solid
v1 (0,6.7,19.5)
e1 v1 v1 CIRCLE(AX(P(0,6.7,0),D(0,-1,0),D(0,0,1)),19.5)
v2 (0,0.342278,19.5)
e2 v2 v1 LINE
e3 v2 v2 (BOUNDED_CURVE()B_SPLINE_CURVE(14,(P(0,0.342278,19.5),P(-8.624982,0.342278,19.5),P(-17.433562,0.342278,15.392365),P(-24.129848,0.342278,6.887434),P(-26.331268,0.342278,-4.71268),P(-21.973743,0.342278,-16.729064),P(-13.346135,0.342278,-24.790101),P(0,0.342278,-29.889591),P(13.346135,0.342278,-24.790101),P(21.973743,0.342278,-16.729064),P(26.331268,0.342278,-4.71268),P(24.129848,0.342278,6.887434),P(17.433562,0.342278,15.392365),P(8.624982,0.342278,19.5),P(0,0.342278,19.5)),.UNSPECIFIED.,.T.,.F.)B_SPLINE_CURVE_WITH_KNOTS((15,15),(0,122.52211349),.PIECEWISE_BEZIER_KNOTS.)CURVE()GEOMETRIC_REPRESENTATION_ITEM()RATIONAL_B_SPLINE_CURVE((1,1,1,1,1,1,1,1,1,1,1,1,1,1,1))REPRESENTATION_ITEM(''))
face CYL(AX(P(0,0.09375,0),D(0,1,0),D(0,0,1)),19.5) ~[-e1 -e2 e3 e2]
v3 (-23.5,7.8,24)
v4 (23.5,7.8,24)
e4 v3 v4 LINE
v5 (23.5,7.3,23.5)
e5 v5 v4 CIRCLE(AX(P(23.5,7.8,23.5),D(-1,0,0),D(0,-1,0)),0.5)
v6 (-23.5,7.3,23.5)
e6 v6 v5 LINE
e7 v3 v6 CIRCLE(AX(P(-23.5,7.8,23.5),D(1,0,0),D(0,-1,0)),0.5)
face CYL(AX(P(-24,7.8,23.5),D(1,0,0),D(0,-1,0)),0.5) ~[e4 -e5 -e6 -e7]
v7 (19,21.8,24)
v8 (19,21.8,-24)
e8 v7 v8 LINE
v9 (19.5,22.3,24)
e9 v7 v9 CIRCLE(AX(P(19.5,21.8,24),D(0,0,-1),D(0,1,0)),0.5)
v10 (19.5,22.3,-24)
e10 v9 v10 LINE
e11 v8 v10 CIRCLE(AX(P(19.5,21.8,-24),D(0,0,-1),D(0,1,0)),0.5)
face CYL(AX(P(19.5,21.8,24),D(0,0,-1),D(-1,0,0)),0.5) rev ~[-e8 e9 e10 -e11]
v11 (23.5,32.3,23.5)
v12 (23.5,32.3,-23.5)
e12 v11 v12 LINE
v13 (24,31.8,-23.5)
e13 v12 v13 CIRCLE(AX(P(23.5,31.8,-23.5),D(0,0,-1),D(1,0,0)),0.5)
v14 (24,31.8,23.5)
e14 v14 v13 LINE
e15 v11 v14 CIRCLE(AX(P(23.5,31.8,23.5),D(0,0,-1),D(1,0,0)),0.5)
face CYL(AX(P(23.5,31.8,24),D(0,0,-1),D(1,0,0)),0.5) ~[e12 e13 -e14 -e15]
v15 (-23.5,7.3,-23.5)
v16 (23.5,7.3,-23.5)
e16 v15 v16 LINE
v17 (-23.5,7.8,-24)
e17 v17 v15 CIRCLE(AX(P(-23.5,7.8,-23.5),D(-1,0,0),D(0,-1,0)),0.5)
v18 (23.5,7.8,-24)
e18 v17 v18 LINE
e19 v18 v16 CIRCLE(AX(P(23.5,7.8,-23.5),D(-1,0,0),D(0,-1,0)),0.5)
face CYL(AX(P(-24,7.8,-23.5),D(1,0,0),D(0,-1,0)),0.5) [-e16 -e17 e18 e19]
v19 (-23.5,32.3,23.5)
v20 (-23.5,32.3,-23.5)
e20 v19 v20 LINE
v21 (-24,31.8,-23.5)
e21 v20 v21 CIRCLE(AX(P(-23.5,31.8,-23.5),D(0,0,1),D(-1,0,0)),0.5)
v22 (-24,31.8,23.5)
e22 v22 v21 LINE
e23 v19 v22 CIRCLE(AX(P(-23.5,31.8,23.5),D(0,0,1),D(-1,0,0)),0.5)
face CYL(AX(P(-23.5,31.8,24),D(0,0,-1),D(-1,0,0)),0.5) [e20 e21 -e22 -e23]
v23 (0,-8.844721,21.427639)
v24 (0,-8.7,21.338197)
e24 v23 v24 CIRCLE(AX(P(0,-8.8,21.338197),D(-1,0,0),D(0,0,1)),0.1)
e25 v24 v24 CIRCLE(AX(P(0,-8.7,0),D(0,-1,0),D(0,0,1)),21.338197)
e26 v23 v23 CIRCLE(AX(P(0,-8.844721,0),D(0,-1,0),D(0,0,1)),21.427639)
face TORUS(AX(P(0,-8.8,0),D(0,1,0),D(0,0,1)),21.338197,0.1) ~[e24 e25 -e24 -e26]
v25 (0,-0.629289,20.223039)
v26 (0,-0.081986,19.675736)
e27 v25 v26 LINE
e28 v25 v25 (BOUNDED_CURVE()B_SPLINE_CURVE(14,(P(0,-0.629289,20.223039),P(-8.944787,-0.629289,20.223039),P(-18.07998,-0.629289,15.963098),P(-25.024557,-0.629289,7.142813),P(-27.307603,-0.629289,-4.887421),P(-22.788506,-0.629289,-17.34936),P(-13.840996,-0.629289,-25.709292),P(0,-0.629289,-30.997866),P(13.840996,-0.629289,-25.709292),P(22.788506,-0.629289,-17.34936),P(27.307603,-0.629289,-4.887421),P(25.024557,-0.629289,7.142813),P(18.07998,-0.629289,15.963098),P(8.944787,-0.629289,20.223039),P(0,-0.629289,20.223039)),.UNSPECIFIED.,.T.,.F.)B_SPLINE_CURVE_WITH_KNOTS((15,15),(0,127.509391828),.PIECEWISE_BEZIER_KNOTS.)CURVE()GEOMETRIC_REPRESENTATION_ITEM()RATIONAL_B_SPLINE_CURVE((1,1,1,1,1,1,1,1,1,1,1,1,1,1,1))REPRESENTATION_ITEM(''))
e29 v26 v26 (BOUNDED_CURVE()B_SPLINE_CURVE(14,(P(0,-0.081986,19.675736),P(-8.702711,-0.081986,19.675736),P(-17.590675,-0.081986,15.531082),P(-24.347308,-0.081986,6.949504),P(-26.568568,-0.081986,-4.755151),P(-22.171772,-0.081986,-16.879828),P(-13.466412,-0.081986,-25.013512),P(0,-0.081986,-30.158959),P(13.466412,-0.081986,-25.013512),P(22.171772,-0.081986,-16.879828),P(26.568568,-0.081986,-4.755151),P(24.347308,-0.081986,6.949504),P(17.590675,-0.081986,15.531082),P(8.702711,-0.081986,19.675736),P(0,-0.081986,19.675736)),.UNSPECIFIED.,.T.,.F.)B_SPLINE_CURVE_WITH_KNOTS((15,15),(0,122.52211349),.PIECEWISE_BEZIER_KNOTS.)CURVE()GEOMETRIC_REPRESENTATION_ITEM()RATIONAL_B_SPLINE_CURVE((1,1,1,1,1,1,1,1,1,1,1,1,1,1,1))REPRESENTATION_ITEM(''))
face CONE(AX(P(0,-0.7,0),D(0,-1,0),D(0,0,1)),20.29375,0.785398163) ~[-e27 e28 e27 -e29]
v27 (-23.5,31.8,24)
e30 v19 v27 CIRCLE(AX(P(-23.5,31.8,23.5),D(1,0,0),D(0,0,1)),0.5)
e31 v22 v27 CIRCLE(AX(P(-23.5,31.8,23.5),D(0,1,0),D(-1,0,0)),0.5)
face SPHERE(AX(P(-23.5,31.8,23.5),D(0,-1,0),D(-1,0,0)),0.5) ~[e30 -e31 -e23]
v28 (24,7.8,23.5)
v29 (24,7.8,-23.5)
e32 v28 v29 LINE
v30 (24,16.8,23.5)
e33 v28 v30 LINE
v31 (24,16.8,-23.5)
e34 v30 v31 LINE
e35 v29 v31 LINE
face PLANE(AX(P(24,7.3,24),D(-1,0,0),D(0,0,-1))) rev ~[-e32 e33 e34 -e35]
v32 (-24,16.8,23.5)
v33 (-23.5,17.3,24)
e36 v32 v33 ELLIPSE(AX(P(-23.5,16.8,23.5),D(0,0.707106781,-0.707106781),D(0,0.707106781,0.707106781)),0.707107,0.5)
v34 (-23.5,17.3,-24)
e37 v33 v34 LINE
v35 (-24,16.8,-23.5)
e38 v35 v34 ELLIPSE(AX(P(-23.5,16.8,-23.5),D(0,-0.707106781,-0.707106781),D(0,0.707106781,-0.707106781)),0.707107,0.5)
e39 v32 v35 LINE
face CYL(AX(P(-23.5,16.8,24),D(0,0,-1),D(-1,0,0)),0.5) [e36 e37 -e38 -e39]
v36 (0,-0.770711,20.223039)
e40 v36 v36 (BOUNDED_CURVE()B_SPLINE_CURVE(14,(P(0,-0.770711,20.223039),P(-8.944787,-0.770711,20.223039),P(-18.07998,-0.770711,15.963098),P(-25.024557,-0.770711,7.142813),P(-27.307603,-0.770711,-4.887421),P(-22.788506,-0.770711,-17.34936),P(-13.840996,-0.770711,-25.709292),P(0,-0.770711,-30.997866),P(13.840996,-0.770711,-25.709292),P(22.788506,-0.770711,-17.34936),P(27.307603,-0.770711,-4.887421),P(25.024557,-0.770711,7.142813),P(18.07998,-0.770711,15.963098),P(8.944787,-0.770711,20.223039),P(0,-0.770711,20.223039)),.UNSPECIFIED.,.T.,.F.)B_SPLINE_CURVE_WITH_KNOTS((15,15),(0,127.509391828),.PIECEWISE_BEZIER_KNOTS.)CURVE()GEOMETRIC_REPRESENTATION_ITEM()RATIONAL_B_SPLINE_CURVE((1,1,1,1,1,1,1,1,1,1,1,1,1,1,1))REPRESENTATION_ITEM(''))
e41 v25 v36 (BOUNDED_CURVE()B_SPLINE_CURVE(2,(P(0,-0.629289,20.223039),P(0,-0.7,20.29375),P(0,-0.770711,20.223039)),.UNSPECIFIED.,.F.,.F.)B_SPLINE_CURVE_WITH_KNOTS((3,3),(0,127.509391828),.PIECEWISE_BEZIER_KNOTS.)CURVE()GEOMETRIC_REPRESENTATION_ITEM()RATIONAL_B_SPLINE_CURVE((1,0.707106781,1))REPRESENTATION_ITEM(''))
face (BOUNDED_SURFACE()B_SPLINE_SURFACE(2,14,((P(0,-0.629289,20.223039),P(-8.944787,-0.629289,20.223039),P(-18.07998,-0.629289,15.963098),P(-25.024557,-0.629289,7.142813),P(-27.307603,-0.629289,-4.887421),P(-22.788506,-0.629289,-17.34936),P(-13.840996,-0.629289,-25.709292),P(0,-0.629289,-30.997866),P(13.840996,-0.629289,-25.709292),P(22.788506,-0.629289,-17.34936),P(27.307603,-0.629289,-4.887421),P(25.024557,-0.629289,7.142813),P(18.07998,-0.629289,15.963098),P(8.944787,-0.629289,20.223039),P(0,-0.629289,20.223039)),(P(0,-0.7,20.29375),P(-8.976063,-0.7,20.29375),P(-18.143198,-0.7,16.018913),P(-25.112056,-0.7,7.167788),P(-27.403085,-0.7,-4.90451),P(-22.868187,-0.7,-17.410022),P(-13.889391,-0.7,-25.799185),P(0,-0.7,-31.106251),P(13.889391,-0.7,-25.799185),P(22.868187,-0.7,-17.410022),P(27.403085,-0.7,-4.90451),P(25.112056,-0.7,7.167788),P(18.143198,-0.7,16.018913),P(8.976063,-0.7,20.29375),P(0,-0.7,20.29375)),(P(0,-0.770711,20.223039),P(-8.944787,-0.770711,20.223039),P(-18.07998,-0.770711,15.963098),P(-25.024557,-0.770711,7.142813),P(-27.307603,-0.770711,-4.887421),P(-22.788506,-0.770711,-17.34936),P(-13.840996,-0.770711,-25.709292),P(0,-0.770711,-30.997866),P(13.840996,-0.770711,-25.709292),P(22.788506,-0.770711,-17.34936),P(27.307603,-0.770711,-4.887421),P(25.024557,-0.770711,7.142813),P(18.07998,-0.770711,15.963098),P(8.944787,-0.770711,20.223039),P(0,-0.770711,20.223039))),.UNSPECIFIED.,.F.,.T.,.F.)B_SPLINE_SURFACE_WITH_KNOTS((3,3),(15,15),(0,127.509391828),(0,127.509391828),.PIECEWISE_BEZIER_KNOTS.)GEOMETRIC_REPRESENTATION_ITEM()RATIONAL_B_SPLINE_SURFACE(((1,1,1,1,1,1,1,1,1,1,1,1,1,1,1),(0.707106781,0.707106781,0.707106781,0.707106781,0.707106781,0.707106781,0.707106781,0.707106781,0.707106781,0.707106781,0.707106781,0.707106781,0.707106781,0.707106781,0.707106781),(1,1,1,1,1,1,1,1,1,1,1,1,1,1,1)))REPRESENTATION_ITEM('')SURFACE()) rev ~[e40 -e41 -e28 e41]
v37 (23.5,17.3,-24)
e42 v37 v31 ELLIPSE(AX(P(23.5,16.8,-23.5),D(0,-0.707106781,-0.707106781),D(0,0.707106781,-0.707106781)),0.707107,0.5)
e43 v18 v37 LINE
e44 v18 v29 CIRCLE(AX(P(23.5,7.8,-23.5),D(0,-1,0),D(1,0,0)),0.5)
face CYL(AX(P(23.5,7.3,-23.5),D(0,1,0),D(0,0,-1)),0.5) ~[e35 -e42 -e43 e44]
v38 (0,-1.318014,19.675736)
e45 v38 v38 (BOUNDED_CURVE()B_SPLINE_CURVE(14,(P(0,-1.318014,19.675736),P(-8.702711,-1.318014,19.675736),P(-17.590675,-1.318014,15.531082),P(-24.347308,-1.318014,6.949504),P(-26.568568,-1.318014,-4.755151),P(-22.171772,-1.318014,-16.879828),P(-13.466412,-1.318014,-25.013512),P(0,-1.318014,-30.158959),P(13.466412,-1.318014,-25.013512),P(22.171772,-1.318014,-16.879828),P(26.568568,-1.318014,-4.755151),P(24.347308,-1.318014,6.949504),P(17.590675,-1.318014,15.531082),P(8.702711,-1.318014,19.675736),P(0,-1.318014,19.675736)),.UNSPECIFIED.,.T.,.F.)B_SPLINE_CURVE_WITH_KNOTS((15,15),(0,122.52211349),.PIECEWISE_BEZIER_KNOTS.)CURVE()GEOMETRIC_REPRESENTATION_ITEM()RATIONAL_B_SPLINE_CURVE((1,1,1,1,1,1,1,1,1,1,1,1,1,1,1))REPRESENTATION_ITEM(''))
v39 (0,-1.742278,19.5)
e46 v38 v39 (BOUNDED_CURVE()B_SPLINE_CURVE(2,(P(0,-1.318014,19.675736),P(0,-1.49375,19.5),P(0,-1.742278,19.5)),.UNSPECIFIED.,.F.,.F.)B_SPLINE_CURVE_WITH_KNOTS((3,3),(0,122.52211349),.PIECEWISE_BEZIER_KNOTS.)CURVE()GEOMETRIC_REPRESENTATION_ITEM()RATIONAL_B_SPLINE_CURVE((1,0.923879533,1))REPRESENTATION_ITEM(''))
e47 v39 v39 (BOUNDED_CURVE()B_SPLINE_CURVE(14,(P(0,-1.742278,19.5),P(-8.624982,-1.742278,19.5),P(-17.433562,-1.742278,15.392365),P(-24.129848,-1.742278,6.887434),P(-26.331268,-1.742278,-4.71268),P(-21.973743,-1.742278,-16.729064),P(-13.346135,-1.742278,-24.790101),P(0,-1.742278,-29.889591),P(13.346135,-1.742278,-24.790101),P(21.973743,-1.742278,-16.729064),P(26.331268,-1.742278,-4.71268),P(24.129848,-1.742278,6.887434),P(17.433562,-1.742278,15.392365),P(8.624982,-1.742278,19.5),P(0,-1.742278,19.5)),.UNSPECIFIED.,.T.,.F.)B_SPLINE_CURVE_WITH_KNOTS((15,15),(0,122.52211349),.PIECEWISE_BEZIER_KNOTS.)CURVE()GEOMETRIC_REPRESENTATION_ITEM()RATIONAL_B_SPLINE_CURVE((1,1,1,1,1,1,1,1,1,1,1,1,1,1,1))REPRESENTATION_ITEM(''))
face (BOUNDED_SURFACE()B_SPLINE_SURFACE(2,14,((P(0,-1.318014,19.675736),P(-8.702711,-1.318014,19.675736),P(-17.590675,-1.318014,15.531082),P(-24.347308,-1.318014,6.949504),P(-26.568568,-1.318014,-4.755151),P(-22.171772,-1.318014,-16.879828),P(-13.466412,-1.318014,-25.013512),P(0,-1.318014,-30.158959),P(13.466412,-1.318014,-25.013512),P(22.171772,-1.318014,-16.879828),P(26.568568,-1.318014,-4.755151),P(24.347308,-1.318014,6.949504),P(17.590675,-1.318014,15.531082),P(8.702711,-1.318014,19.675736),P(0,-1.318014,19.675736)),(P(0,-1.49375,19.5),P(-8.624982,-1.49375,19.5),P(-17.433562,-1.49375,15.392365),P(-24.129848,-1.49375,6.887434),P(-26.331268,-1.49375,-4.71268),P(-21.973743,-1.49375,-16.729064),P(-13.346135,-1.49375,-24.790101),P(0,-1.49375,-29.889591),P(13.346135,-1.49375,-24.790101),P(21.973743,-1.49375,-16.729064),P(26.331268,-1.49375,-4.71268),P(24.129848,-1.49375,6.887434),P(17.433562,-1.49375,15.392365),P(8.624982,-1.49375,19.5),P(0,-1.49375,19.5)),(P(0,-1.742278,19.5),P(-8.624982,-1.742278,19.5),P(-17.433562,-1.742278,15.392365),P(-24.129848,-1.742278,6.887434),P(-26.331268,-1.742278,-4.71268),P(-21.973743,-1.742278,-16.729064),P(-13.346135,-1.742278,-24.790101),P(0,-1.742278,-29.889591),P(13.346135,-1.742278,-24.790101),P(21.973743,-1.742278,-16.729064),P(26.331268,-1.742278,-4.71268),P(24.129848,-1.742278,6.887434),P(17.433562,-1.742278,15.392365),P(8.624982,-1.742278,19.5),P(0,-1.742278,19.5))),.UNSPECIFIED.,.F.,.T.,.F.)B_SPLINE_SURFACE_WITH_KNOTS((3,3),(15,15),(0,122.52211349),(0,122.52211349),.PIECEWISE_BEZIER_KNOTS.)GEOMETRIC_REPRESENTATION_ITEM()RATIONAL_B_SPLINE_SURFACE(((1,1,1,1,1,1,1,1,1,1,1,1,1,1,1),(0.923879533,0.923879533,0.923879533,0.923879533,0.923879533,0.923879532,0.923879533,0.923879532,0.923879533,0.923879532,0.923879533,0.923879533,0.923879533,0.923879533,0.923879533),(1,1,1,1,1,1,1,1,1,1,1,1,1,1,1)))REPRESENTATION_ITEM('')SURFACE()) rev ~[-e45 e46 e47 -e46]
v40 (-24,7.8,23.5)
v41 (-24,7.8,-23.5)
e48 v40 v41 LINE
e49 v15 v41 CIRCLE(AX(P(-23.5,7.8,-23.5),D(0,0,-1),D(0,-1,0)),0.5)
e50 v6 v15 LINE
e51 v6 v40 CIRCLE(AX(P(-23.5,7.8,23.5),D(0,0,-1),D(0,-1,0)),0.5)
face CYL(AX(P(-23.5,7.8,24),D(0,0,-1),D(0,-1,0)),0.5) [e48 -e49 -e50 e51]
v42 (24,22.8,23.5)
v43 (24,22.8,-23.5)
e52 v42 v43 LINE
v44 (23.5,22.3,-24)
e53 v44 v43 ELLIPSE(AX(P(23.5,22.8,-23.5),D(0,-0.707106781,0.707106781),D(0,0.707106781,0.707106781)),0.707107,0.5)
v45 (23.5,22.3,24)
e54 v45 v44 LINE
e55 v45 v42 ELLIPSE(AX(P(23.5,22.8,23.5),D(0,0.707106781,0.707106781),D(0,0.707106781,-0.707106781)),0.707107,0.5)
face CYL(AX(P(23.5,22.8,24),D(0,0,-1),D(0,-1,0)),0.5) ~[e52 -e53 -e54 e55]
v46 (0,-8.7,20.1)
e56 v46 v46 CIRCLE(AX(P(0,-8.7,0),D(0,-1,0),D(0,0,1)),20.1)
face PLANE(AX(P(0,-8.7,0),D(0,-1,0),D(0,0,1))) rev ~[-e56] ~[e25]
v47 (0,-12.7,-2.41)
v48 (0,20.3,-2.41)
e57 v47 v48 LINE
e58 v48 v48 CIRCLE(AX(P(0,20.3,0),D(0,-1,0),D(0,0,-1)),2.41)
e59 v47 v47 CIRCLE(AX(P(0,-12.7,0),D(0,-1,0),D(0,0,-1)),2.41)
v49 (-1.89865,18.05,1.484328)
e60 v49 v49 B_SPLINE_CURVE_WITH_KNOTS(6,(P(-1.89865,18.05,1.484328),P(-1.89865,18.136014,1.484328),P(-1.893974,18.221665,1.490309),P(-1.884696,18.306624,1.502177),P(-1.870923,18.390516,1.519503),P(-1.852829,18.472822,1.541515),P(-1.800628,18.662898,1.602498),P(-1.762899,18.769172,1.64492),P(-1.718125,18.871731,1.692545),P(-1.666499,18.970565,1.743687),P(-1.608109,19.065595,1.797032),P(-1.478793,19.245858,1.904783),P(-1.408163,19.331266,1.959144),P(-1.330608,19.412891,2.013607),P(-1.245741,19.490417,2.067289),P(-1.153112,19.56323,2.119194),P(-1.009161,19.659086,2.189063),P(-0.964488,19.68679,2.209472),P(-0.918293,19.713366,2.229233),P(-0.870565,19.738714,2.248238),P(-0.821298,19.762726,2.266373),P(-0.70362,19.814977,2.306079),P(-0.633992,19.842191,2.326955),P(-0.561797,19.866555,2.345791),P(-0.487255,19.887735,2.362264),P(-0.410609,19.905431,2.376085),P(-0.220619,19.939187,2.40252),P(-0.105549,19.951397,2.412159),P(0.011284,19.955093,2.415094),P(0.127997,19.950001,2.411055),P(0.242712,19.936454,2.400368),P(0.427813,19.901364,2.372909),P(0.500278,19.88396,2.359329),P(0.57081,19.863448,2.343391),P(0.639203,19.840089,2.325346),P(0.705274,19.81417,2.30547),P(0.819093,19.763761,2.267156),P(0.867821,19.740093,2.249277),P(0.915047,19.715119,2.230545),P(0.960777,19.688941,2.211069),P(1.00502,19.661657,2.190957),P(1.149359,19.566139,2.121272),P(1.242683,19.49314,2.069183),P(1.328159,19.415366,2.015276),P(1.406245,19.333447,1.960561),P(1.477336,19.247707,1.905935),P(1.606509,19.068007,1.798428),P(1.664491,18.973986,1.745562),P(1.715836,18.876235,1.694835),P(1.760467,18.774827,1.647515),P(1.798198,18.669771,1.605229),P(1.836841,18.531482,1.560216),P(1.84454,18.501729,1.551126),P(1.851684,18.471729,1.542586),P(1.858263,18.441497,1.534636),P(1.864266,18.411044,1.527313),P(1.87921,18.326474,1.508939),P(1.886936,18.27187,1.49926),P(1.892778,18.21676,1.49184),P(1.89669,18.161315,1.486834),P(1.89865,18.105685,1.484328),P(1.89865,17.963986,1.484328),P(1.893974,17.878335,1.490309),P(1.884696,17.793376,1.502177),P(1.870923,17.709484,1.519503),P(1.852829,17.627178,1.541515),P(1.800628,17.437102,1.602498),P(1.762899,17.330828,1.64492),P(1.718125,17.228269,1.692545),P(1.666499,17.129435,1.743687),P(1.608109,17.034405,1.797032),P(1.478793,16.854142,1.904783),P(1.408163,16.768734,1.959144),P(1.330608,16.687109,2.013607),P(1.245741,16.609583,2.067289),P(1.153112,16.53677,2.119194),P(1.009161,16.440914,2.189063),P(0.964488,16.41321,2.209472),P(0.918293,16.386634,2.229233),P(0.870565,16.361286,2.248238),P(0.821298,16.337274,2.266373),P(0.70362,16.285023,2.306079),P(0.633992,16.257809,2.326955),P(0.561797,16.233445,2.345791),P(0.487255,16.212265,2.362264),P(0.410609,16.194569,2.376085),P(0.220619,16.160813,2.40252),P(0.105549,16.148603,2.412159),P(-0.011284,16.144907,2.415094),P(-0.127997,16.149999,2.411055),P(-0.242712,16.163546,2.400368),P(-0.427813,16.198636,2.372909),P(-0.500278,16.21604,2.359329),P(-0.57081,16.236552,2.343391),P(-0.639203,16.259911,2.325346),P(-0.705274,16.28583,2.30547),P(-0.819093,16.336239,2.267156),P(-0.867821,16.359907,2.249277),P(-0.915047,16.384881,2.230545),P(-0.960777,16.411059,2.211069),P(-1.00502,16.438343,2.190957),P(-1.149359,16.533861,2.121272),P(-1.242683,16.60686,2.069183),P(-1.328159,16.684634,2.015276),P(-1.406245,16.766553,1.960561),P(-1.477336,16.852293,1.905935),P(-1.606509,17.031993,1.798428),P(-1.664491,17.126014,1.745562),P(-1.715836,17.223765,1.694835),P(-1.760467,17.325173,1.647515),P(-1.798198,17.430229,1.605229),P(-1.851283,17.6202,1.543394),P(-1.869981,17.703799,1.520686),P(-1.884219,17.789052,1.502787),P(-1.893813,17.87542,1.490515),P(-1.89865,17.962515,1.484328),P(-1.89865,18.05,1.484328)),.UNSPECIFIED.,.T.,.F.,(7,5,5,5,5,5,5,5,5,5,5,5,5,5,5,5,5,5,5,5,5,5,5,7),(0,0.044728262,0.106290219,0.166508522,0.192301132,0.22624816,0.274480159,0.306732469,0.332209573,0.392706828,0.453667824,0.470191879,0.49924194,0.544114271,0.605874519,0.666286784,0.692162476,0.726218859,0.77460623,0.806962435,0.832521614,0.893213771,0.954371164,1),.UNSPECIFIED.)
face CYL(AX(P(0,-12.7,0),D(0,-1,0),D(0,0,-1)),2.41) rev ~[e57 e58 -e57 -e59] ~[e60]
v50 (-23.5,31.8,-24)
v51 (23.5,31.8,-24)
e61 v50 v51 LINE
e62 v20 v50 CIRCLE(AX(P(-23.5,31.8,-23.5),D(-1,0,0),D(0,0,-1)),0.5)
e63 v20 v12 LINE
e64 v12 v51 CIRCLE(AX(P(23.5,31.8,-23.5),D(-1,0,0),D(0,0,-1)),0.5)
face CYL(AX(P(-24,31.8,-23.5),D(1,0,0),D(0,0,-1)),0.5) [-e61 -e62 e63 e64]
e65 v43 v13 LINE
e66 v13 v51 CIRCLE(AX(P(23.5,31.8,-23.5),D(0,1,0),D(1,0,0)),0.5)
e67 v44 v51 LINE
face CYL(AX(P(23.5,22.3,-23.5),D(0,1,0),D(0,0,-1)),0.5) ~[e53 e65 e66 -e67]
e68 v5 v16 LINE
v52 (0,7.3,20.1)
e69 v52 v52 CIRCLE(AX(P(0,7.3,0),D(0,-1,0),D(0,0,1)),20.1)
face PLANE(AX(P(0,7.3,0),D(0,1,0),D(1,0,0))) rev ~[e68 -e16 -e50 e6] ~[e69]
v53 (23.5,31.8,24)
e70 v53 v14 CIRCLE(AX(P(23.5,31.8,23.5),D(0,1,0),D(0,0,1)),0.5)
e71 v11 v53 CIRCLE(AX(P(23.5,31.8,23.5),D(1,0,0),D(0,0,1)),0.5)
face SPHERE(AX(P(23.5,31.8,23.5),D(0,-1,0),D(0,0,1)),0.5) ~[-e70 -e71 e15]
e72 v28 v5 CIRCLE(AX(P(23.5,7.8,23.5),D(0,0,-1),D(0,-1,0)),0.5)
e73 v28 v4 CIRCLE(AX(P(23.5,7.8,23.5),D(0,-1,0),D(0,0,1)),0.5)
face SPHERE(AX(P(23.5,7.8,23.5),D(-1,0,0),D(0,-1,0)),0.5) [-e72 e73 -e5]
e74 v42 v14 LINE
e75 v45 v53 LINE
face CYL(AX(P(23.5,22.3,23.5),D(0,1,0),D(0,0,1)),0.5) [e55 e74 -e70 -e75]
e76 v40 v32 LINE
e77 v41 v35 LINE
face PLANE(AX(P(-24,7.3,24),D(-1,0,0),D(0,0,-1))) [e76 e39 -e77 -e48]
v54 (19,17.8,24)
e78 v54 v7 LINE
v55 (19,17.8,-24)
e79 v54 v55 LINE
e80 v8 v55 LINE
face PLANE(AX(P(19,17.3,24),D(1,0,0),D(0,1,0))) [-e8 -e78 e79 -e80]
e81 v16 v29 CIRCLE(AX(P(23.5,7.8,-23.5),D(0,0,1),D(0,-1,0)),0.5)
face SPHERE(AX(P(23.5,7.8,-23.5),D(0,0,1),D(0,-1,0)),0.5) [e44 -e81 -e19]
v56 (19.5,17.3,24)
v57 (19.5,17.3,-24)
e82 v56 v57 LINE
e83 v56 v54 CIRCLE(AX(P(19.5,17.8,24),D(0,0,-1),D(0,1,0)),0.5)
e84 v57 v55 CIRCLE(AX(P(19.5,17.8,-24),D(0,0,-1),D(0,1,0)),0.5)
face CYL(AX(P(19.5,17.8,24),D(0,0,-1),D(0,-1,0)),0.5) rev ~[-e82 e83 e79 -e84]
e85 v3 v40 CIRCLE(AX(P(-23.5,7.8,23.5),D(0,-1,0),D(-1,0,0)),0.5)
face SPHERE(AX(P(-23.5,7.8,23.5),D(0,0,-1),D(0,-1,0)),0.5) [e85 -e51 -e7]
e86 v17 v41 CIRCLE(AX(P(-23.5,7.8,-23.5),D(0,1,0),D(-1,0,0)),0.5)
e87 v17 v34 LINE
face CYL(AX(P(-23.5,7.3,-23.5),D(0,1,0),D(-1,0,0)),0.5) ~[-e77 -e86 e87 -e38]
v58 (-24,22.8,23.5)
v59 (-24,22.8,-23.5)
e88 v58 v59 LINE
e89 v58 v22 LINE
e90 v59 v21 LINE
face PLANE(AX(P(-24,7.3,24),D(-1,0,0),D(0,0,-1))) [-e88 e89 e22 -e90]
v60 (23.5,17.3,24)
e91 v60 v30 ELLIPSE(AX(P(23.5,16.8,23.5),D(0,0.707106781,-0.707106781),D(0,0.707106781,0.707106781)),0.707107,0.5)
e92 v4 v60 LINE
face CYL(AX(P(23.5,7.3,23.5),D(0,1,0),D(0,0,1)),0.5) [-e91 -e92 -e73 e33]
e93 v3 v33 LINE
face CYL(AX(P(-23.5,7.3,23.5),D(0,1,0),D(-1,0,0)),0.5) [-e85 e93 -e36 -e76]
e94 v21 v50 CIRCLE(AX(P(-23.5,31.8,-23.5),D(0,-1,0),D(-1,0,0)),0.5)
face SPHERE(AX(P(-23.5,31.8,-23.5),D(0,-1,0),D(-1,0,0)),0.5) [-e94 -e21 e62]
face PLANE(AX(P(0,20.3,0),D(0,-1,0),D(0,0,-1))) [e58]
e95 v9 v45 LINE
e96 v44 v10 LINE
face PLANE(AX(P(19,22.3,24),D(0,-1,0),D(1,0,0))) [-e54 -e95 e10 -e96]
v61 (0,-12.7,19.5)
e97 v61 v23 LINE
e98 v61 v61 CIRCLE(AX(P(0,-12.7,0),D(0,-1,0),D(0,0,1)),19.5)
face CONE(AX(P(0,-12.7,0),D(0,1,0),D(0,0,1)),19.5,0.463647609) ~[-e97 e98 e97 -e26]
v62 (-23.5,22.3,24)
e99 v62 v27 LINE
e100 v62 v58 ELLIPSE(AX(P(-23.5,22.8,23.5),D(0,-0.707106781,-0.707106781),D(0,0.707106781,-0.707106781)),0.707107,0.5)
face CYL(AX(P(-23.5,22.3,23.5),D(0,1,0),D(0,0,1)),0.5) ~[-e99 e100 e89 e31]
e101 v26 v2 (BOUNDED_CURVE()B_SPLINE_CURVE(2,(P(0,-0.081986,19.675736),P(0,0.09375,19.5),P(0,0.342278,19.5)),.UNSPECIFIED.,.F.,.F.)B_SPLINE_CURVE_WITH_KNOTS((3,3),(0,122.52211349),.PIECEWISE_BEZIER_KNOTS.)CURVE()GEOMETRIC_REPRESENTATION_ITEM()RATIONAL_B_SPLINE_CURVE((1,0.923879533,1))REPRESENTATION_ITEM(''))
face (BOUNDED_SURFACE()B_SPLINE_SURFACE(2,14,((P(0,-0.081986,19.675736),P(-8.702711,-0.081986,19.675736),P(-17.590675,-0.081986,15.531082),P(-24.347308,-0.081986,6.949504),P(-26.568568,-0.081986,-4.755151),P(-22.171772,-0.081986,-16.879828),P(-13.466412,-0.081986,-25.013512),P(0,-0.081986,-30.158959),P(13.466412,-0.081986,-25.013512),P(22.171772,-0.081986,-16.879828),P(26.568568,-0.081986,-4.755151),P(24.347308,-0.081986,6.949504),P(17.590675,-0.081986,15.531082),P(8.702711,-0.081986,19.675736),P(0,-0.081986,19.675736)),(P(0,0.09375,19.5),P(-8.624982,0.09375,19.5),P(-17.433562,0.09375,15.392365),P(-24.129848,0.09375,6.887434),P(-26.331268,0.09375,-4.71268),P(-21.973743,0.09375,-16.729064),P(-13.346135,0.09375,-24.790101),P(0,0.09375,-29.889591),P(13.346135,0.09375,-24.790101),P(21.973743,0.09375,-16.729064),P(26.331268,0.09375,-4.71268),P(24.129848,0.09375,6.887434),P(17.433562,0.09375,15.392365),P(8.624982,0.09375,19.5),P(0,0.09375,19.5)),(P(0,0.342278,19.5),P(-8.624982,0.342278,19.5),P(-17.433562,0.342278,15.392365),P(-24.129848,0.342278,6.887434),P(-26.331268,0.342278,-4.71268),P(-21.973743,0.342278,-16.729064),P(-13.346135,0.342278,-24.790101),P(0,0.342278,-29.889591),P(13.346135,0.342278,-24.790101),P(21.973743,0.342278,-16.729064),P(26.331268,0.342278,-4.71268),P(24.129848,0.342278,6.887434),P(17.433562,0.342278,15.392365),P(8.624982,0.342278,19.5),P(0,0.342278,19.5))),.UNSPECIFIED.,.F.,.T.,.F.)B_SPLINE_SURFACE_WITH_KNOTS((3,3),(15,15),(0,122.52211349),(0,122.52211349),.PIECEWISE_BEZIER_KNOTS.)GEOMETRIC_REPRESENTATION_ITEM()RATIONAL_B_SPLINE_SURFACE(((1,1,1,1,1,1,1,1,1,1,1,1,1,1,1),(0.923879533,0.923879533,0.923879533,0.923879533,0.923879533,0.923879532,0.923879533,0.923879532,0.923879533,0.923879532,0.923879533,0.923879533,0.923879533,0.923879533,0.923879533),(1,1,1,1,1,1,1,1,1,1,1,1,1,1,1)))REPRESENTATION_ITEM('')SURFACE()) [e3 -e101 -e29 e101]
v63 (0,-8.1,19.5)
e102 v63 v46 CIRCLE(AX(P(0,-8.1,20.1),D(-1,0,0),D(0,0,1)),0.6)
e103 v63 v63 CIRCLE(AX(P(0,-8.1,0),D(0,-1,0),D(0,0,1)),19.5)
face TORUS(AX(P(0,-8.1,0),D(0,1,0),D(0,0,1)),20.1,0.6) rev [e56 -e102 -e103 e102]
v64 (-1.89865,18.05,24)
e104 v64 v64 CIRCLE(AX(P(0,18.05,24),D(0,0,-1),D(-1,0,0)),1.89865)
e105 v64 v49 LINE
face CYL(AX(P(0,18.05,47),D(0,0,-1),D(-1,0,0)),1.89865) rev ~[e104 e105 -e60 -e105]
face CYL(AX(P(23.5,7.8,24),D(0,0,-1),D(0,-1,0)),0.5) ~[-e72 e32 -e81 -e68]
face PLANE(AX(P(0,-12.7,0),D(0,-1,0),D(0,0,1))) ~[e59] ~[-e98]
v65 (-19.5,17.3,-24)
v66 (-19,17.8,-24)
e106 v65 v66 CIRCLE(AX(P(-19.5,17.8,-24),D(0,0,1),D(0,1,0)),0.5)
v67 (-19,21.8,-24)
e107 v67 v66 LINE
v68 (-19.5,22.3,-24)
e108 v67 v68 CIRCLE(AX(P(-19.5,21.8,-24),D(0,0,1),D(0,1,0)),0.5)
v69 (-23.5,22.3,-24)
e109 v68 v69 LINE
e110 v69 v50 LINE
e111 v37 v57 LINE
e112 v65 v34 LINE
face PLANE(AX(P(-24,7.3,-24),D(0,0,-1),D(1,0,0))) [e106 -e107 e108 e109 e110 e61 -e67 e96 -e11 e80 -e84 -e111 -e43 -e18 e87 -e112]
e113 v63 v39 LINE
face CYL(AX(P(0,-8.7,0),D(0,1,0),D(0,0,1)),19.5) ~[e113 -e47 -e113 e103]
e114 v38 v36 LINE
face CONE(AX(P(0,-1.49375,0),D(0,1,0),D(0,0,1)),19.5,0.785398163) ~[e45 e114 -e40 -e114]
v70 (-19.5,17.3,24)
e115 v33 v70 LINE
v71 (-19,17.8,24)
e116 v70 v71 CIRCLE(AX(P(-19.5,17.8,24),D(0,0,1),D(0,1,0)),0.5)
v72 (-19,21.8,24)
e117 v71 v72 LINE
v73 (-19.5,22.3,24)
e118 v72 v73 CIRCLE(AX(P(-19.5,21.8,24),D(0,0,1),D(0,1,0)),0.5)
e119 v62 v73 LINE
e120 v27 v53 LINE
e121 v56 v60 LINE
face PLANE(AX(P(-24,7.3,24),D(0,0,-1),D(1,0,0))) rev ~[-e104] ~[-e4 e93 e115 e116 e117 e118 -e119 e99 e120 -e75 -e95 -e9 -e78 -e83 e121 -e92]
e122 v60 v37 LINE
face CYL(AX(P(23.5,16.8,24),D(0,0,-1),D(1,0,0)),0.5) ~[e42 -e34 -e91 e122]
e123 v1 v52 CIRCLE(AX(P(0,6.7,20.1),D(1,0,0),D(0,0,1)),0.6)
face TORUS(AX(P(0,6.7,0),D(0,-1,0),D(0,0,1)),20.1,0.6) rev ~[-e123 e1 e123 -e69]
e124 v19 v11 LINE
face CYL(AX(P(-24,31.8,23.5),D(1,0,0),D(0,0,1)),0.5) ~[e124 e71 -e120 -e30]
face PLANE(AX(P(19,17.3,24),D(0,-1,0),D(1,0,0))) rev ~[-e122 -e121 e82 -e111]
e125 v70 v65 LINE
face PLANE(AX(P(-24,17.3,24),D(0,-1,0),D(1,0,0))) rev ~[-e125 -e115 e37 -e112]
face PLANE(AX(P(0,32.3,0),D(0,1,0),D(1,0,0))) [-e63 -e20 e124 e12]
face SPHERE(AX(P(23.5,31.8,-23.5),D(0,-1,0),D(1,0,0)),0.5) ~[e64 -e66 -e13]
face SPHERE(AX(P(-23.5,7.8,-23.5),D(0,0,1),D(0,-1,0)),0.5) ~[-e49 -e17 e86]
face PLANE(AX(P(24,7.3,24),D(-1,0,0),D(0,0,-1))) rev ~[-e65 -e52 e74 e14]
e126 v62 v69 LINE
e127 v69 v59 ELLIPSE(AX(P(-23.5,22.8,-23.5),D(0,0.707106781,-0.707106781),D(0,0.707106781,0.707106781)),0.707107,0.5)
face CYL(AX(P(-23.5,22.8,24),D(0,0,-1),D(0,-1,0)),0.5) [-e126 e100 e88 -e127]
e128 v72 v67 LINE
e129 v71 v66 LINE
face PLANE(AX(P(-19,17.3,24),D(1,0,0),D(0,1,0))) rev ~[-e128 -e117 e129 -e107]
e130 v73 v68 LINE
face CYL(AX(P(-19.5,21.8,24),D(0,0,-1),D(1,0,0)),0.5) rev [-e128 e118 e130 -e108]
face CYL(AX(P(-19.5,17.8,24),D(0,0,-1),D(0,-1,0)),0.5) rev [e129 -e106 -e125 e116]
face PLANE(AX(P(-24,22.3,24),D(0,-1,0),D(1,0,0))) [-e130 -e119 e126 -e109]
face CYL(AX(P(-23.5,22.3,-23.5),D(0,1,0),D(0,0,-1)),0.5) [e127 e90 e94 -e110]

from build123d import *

# Parameters (mm, degrees)
SKETCH2_W                  = 48
SKETCH2_H                  = 48
BOSS_EXTRUDE1_DEPTH        = 25
SKETCH3_W                  = 5
SKETCH3_H                  = 5
CUT_EXTRUDE2_DEPTH         = 63.636171658
SKETCH4_R                  = 2.41
CUT_EXTRUDE3_DEPTH         = 33
F_10_24_TAPPED_HOLE1_D     = 3.7973
F_10_24_TAPPED_HOLE1_DEPTH = 23
F_10_24_TAPPED_HOLE1_TIP   = 1.140824014
FILLET1_R                  = 0.1
FILLET2_R                  = 0.6
FILLET3_R                  = 0.5


with BuildPart() as part:
    # Sketch1 → Revolve1 (revolve)
    with BuildSketch(Plane.XY, mode=Mode.PRIVATE) as revolve1_sk:
        Polygon((0, -12.7), (19.5, -12.7), (21.5, -8.7), (19.5, -8.7), (19.5, -1.49375), (20.29375, -0.7), (19.5, 0.09375), (19.5, 7.3), (0, 7.3), align=None)
    revolve(revolve1_sk.sketch.rotate(Axis((0, 1017.662299771, 0), (0, -1, 0)), 90), axis=Axis((0, 1017.662299771, 0), (0, -1, 0)))

    # Sketch2 → Boss-Extrude1 (add)
    with BuildSketch(Plane(origin=(0, 7.3, 0), x_dir=(1, 0, 0), z_dir=(0, 1, 0))):
        Rectangle(SKETCH2_W, SKETCH2_H)
    extrude(amount=BOSS_EXTRUDE1_DEPTH)

    # Sketch3 → Cut-Extrude2 (cut, through all)
    with BuildSketch(Plane.XY.offset(24)):
        with Locations((21.5, 19.8)):
            Rectangle(SKETCH3_W, SKETCH3_H)
        with Locations((-21.5, 19.8)):
            Rectangle(SKETCH3_W, SKETCH3_H)
    extrude(amount=-CUT_EXTRUDE2_DEPTH, mode=Mode.SUBTRACT)

    # Sketch4 → Cut-Extrude3 (cut)
    with BuildSketch(Plane.XZ.offset(12.7)):
        with Locations(Location((0, 0, 0), (0, 0, 270))):
            Circle(SKETCH4_R)
    extrude(amount=-CUT_EXTRUDE3_DEPTH, mode=Mode.SUBTRACT)

    # #10-24 Tapped Hole1
    with Locations(Plane.XY.offset(24)):
        with Locations((0, 18.05)):
            Hole(F_10_24_TAPPED_HOLE1_D / 2, depth=F_10_24_TAPPED_HOLE1_DEPTH)
            with Locations((0, 0, -(F_10_24_TAPPED_HOLE1_DEPTH + F_10_24_TAPPED_HOLE1_TIP / 2))):  # 118° drill point
                Cone(0, F_10_24_TAPPED_HOLE1_D / 2, F_10_24_TAPPED_HOLE1_TIP, mode=Mode.SUBTRACT)

    # Fillet1
    fillet1_edges = [part.edges().sort_by_distance(p)[0] for p in [
        (0, -0.7, -20.29375),
        (0, -8.7, -21.5),
    ]]
    fillet(fillet1_edges, radius=FILLET1_R)

    # Fillet2
    fillet2_edges = [part.edges().sort_by_distance(p)[0] for p in [
        (0, 7.3, -19.5),
        (0, 0.09375, -19.5),
        (0, -1.49375, -19.5),
        (0, -8.7, -19.5),
    ]]
    fillet(fillet2_edges, radius=FILLET2_R)

    # Fillet3
    fillet3_edges = [part.edges().sort_by_distance(p)[0] for p in [
        (-24, 7.3, 0),
        (-24, 27.3, -24),
        (0, 7.3, 24),
        (-24, 27.3, 24),
        (24, 7.3, 0),
        (24, 27.3, 24),
        (0, 7.3, -24),
        (24, 27.3, -24),
        (-24, 32.3, 0),
        (0, 32.3, 24),
        (24, 32.3, 0),
        (0, 32.3, -24),
        (-24, 12.3, -24),
        (24, 12.3, -24),
        (24, 12.3, 24),
        (-24, 12.3, 24),
        (19, 17.3, 0),
        (19, 22.3, 0),
        (24, 22.3, 0),
        (24, 17.3, 0),
        (-24, 17.3, 0),
        (-24, 22.3, 0),
        (-19, 22.3, 0),
        (-19, 17.3, 0),
    ]]
    fillet(fillet3_edges, radius=FILLET3_R)


solid = part.part
